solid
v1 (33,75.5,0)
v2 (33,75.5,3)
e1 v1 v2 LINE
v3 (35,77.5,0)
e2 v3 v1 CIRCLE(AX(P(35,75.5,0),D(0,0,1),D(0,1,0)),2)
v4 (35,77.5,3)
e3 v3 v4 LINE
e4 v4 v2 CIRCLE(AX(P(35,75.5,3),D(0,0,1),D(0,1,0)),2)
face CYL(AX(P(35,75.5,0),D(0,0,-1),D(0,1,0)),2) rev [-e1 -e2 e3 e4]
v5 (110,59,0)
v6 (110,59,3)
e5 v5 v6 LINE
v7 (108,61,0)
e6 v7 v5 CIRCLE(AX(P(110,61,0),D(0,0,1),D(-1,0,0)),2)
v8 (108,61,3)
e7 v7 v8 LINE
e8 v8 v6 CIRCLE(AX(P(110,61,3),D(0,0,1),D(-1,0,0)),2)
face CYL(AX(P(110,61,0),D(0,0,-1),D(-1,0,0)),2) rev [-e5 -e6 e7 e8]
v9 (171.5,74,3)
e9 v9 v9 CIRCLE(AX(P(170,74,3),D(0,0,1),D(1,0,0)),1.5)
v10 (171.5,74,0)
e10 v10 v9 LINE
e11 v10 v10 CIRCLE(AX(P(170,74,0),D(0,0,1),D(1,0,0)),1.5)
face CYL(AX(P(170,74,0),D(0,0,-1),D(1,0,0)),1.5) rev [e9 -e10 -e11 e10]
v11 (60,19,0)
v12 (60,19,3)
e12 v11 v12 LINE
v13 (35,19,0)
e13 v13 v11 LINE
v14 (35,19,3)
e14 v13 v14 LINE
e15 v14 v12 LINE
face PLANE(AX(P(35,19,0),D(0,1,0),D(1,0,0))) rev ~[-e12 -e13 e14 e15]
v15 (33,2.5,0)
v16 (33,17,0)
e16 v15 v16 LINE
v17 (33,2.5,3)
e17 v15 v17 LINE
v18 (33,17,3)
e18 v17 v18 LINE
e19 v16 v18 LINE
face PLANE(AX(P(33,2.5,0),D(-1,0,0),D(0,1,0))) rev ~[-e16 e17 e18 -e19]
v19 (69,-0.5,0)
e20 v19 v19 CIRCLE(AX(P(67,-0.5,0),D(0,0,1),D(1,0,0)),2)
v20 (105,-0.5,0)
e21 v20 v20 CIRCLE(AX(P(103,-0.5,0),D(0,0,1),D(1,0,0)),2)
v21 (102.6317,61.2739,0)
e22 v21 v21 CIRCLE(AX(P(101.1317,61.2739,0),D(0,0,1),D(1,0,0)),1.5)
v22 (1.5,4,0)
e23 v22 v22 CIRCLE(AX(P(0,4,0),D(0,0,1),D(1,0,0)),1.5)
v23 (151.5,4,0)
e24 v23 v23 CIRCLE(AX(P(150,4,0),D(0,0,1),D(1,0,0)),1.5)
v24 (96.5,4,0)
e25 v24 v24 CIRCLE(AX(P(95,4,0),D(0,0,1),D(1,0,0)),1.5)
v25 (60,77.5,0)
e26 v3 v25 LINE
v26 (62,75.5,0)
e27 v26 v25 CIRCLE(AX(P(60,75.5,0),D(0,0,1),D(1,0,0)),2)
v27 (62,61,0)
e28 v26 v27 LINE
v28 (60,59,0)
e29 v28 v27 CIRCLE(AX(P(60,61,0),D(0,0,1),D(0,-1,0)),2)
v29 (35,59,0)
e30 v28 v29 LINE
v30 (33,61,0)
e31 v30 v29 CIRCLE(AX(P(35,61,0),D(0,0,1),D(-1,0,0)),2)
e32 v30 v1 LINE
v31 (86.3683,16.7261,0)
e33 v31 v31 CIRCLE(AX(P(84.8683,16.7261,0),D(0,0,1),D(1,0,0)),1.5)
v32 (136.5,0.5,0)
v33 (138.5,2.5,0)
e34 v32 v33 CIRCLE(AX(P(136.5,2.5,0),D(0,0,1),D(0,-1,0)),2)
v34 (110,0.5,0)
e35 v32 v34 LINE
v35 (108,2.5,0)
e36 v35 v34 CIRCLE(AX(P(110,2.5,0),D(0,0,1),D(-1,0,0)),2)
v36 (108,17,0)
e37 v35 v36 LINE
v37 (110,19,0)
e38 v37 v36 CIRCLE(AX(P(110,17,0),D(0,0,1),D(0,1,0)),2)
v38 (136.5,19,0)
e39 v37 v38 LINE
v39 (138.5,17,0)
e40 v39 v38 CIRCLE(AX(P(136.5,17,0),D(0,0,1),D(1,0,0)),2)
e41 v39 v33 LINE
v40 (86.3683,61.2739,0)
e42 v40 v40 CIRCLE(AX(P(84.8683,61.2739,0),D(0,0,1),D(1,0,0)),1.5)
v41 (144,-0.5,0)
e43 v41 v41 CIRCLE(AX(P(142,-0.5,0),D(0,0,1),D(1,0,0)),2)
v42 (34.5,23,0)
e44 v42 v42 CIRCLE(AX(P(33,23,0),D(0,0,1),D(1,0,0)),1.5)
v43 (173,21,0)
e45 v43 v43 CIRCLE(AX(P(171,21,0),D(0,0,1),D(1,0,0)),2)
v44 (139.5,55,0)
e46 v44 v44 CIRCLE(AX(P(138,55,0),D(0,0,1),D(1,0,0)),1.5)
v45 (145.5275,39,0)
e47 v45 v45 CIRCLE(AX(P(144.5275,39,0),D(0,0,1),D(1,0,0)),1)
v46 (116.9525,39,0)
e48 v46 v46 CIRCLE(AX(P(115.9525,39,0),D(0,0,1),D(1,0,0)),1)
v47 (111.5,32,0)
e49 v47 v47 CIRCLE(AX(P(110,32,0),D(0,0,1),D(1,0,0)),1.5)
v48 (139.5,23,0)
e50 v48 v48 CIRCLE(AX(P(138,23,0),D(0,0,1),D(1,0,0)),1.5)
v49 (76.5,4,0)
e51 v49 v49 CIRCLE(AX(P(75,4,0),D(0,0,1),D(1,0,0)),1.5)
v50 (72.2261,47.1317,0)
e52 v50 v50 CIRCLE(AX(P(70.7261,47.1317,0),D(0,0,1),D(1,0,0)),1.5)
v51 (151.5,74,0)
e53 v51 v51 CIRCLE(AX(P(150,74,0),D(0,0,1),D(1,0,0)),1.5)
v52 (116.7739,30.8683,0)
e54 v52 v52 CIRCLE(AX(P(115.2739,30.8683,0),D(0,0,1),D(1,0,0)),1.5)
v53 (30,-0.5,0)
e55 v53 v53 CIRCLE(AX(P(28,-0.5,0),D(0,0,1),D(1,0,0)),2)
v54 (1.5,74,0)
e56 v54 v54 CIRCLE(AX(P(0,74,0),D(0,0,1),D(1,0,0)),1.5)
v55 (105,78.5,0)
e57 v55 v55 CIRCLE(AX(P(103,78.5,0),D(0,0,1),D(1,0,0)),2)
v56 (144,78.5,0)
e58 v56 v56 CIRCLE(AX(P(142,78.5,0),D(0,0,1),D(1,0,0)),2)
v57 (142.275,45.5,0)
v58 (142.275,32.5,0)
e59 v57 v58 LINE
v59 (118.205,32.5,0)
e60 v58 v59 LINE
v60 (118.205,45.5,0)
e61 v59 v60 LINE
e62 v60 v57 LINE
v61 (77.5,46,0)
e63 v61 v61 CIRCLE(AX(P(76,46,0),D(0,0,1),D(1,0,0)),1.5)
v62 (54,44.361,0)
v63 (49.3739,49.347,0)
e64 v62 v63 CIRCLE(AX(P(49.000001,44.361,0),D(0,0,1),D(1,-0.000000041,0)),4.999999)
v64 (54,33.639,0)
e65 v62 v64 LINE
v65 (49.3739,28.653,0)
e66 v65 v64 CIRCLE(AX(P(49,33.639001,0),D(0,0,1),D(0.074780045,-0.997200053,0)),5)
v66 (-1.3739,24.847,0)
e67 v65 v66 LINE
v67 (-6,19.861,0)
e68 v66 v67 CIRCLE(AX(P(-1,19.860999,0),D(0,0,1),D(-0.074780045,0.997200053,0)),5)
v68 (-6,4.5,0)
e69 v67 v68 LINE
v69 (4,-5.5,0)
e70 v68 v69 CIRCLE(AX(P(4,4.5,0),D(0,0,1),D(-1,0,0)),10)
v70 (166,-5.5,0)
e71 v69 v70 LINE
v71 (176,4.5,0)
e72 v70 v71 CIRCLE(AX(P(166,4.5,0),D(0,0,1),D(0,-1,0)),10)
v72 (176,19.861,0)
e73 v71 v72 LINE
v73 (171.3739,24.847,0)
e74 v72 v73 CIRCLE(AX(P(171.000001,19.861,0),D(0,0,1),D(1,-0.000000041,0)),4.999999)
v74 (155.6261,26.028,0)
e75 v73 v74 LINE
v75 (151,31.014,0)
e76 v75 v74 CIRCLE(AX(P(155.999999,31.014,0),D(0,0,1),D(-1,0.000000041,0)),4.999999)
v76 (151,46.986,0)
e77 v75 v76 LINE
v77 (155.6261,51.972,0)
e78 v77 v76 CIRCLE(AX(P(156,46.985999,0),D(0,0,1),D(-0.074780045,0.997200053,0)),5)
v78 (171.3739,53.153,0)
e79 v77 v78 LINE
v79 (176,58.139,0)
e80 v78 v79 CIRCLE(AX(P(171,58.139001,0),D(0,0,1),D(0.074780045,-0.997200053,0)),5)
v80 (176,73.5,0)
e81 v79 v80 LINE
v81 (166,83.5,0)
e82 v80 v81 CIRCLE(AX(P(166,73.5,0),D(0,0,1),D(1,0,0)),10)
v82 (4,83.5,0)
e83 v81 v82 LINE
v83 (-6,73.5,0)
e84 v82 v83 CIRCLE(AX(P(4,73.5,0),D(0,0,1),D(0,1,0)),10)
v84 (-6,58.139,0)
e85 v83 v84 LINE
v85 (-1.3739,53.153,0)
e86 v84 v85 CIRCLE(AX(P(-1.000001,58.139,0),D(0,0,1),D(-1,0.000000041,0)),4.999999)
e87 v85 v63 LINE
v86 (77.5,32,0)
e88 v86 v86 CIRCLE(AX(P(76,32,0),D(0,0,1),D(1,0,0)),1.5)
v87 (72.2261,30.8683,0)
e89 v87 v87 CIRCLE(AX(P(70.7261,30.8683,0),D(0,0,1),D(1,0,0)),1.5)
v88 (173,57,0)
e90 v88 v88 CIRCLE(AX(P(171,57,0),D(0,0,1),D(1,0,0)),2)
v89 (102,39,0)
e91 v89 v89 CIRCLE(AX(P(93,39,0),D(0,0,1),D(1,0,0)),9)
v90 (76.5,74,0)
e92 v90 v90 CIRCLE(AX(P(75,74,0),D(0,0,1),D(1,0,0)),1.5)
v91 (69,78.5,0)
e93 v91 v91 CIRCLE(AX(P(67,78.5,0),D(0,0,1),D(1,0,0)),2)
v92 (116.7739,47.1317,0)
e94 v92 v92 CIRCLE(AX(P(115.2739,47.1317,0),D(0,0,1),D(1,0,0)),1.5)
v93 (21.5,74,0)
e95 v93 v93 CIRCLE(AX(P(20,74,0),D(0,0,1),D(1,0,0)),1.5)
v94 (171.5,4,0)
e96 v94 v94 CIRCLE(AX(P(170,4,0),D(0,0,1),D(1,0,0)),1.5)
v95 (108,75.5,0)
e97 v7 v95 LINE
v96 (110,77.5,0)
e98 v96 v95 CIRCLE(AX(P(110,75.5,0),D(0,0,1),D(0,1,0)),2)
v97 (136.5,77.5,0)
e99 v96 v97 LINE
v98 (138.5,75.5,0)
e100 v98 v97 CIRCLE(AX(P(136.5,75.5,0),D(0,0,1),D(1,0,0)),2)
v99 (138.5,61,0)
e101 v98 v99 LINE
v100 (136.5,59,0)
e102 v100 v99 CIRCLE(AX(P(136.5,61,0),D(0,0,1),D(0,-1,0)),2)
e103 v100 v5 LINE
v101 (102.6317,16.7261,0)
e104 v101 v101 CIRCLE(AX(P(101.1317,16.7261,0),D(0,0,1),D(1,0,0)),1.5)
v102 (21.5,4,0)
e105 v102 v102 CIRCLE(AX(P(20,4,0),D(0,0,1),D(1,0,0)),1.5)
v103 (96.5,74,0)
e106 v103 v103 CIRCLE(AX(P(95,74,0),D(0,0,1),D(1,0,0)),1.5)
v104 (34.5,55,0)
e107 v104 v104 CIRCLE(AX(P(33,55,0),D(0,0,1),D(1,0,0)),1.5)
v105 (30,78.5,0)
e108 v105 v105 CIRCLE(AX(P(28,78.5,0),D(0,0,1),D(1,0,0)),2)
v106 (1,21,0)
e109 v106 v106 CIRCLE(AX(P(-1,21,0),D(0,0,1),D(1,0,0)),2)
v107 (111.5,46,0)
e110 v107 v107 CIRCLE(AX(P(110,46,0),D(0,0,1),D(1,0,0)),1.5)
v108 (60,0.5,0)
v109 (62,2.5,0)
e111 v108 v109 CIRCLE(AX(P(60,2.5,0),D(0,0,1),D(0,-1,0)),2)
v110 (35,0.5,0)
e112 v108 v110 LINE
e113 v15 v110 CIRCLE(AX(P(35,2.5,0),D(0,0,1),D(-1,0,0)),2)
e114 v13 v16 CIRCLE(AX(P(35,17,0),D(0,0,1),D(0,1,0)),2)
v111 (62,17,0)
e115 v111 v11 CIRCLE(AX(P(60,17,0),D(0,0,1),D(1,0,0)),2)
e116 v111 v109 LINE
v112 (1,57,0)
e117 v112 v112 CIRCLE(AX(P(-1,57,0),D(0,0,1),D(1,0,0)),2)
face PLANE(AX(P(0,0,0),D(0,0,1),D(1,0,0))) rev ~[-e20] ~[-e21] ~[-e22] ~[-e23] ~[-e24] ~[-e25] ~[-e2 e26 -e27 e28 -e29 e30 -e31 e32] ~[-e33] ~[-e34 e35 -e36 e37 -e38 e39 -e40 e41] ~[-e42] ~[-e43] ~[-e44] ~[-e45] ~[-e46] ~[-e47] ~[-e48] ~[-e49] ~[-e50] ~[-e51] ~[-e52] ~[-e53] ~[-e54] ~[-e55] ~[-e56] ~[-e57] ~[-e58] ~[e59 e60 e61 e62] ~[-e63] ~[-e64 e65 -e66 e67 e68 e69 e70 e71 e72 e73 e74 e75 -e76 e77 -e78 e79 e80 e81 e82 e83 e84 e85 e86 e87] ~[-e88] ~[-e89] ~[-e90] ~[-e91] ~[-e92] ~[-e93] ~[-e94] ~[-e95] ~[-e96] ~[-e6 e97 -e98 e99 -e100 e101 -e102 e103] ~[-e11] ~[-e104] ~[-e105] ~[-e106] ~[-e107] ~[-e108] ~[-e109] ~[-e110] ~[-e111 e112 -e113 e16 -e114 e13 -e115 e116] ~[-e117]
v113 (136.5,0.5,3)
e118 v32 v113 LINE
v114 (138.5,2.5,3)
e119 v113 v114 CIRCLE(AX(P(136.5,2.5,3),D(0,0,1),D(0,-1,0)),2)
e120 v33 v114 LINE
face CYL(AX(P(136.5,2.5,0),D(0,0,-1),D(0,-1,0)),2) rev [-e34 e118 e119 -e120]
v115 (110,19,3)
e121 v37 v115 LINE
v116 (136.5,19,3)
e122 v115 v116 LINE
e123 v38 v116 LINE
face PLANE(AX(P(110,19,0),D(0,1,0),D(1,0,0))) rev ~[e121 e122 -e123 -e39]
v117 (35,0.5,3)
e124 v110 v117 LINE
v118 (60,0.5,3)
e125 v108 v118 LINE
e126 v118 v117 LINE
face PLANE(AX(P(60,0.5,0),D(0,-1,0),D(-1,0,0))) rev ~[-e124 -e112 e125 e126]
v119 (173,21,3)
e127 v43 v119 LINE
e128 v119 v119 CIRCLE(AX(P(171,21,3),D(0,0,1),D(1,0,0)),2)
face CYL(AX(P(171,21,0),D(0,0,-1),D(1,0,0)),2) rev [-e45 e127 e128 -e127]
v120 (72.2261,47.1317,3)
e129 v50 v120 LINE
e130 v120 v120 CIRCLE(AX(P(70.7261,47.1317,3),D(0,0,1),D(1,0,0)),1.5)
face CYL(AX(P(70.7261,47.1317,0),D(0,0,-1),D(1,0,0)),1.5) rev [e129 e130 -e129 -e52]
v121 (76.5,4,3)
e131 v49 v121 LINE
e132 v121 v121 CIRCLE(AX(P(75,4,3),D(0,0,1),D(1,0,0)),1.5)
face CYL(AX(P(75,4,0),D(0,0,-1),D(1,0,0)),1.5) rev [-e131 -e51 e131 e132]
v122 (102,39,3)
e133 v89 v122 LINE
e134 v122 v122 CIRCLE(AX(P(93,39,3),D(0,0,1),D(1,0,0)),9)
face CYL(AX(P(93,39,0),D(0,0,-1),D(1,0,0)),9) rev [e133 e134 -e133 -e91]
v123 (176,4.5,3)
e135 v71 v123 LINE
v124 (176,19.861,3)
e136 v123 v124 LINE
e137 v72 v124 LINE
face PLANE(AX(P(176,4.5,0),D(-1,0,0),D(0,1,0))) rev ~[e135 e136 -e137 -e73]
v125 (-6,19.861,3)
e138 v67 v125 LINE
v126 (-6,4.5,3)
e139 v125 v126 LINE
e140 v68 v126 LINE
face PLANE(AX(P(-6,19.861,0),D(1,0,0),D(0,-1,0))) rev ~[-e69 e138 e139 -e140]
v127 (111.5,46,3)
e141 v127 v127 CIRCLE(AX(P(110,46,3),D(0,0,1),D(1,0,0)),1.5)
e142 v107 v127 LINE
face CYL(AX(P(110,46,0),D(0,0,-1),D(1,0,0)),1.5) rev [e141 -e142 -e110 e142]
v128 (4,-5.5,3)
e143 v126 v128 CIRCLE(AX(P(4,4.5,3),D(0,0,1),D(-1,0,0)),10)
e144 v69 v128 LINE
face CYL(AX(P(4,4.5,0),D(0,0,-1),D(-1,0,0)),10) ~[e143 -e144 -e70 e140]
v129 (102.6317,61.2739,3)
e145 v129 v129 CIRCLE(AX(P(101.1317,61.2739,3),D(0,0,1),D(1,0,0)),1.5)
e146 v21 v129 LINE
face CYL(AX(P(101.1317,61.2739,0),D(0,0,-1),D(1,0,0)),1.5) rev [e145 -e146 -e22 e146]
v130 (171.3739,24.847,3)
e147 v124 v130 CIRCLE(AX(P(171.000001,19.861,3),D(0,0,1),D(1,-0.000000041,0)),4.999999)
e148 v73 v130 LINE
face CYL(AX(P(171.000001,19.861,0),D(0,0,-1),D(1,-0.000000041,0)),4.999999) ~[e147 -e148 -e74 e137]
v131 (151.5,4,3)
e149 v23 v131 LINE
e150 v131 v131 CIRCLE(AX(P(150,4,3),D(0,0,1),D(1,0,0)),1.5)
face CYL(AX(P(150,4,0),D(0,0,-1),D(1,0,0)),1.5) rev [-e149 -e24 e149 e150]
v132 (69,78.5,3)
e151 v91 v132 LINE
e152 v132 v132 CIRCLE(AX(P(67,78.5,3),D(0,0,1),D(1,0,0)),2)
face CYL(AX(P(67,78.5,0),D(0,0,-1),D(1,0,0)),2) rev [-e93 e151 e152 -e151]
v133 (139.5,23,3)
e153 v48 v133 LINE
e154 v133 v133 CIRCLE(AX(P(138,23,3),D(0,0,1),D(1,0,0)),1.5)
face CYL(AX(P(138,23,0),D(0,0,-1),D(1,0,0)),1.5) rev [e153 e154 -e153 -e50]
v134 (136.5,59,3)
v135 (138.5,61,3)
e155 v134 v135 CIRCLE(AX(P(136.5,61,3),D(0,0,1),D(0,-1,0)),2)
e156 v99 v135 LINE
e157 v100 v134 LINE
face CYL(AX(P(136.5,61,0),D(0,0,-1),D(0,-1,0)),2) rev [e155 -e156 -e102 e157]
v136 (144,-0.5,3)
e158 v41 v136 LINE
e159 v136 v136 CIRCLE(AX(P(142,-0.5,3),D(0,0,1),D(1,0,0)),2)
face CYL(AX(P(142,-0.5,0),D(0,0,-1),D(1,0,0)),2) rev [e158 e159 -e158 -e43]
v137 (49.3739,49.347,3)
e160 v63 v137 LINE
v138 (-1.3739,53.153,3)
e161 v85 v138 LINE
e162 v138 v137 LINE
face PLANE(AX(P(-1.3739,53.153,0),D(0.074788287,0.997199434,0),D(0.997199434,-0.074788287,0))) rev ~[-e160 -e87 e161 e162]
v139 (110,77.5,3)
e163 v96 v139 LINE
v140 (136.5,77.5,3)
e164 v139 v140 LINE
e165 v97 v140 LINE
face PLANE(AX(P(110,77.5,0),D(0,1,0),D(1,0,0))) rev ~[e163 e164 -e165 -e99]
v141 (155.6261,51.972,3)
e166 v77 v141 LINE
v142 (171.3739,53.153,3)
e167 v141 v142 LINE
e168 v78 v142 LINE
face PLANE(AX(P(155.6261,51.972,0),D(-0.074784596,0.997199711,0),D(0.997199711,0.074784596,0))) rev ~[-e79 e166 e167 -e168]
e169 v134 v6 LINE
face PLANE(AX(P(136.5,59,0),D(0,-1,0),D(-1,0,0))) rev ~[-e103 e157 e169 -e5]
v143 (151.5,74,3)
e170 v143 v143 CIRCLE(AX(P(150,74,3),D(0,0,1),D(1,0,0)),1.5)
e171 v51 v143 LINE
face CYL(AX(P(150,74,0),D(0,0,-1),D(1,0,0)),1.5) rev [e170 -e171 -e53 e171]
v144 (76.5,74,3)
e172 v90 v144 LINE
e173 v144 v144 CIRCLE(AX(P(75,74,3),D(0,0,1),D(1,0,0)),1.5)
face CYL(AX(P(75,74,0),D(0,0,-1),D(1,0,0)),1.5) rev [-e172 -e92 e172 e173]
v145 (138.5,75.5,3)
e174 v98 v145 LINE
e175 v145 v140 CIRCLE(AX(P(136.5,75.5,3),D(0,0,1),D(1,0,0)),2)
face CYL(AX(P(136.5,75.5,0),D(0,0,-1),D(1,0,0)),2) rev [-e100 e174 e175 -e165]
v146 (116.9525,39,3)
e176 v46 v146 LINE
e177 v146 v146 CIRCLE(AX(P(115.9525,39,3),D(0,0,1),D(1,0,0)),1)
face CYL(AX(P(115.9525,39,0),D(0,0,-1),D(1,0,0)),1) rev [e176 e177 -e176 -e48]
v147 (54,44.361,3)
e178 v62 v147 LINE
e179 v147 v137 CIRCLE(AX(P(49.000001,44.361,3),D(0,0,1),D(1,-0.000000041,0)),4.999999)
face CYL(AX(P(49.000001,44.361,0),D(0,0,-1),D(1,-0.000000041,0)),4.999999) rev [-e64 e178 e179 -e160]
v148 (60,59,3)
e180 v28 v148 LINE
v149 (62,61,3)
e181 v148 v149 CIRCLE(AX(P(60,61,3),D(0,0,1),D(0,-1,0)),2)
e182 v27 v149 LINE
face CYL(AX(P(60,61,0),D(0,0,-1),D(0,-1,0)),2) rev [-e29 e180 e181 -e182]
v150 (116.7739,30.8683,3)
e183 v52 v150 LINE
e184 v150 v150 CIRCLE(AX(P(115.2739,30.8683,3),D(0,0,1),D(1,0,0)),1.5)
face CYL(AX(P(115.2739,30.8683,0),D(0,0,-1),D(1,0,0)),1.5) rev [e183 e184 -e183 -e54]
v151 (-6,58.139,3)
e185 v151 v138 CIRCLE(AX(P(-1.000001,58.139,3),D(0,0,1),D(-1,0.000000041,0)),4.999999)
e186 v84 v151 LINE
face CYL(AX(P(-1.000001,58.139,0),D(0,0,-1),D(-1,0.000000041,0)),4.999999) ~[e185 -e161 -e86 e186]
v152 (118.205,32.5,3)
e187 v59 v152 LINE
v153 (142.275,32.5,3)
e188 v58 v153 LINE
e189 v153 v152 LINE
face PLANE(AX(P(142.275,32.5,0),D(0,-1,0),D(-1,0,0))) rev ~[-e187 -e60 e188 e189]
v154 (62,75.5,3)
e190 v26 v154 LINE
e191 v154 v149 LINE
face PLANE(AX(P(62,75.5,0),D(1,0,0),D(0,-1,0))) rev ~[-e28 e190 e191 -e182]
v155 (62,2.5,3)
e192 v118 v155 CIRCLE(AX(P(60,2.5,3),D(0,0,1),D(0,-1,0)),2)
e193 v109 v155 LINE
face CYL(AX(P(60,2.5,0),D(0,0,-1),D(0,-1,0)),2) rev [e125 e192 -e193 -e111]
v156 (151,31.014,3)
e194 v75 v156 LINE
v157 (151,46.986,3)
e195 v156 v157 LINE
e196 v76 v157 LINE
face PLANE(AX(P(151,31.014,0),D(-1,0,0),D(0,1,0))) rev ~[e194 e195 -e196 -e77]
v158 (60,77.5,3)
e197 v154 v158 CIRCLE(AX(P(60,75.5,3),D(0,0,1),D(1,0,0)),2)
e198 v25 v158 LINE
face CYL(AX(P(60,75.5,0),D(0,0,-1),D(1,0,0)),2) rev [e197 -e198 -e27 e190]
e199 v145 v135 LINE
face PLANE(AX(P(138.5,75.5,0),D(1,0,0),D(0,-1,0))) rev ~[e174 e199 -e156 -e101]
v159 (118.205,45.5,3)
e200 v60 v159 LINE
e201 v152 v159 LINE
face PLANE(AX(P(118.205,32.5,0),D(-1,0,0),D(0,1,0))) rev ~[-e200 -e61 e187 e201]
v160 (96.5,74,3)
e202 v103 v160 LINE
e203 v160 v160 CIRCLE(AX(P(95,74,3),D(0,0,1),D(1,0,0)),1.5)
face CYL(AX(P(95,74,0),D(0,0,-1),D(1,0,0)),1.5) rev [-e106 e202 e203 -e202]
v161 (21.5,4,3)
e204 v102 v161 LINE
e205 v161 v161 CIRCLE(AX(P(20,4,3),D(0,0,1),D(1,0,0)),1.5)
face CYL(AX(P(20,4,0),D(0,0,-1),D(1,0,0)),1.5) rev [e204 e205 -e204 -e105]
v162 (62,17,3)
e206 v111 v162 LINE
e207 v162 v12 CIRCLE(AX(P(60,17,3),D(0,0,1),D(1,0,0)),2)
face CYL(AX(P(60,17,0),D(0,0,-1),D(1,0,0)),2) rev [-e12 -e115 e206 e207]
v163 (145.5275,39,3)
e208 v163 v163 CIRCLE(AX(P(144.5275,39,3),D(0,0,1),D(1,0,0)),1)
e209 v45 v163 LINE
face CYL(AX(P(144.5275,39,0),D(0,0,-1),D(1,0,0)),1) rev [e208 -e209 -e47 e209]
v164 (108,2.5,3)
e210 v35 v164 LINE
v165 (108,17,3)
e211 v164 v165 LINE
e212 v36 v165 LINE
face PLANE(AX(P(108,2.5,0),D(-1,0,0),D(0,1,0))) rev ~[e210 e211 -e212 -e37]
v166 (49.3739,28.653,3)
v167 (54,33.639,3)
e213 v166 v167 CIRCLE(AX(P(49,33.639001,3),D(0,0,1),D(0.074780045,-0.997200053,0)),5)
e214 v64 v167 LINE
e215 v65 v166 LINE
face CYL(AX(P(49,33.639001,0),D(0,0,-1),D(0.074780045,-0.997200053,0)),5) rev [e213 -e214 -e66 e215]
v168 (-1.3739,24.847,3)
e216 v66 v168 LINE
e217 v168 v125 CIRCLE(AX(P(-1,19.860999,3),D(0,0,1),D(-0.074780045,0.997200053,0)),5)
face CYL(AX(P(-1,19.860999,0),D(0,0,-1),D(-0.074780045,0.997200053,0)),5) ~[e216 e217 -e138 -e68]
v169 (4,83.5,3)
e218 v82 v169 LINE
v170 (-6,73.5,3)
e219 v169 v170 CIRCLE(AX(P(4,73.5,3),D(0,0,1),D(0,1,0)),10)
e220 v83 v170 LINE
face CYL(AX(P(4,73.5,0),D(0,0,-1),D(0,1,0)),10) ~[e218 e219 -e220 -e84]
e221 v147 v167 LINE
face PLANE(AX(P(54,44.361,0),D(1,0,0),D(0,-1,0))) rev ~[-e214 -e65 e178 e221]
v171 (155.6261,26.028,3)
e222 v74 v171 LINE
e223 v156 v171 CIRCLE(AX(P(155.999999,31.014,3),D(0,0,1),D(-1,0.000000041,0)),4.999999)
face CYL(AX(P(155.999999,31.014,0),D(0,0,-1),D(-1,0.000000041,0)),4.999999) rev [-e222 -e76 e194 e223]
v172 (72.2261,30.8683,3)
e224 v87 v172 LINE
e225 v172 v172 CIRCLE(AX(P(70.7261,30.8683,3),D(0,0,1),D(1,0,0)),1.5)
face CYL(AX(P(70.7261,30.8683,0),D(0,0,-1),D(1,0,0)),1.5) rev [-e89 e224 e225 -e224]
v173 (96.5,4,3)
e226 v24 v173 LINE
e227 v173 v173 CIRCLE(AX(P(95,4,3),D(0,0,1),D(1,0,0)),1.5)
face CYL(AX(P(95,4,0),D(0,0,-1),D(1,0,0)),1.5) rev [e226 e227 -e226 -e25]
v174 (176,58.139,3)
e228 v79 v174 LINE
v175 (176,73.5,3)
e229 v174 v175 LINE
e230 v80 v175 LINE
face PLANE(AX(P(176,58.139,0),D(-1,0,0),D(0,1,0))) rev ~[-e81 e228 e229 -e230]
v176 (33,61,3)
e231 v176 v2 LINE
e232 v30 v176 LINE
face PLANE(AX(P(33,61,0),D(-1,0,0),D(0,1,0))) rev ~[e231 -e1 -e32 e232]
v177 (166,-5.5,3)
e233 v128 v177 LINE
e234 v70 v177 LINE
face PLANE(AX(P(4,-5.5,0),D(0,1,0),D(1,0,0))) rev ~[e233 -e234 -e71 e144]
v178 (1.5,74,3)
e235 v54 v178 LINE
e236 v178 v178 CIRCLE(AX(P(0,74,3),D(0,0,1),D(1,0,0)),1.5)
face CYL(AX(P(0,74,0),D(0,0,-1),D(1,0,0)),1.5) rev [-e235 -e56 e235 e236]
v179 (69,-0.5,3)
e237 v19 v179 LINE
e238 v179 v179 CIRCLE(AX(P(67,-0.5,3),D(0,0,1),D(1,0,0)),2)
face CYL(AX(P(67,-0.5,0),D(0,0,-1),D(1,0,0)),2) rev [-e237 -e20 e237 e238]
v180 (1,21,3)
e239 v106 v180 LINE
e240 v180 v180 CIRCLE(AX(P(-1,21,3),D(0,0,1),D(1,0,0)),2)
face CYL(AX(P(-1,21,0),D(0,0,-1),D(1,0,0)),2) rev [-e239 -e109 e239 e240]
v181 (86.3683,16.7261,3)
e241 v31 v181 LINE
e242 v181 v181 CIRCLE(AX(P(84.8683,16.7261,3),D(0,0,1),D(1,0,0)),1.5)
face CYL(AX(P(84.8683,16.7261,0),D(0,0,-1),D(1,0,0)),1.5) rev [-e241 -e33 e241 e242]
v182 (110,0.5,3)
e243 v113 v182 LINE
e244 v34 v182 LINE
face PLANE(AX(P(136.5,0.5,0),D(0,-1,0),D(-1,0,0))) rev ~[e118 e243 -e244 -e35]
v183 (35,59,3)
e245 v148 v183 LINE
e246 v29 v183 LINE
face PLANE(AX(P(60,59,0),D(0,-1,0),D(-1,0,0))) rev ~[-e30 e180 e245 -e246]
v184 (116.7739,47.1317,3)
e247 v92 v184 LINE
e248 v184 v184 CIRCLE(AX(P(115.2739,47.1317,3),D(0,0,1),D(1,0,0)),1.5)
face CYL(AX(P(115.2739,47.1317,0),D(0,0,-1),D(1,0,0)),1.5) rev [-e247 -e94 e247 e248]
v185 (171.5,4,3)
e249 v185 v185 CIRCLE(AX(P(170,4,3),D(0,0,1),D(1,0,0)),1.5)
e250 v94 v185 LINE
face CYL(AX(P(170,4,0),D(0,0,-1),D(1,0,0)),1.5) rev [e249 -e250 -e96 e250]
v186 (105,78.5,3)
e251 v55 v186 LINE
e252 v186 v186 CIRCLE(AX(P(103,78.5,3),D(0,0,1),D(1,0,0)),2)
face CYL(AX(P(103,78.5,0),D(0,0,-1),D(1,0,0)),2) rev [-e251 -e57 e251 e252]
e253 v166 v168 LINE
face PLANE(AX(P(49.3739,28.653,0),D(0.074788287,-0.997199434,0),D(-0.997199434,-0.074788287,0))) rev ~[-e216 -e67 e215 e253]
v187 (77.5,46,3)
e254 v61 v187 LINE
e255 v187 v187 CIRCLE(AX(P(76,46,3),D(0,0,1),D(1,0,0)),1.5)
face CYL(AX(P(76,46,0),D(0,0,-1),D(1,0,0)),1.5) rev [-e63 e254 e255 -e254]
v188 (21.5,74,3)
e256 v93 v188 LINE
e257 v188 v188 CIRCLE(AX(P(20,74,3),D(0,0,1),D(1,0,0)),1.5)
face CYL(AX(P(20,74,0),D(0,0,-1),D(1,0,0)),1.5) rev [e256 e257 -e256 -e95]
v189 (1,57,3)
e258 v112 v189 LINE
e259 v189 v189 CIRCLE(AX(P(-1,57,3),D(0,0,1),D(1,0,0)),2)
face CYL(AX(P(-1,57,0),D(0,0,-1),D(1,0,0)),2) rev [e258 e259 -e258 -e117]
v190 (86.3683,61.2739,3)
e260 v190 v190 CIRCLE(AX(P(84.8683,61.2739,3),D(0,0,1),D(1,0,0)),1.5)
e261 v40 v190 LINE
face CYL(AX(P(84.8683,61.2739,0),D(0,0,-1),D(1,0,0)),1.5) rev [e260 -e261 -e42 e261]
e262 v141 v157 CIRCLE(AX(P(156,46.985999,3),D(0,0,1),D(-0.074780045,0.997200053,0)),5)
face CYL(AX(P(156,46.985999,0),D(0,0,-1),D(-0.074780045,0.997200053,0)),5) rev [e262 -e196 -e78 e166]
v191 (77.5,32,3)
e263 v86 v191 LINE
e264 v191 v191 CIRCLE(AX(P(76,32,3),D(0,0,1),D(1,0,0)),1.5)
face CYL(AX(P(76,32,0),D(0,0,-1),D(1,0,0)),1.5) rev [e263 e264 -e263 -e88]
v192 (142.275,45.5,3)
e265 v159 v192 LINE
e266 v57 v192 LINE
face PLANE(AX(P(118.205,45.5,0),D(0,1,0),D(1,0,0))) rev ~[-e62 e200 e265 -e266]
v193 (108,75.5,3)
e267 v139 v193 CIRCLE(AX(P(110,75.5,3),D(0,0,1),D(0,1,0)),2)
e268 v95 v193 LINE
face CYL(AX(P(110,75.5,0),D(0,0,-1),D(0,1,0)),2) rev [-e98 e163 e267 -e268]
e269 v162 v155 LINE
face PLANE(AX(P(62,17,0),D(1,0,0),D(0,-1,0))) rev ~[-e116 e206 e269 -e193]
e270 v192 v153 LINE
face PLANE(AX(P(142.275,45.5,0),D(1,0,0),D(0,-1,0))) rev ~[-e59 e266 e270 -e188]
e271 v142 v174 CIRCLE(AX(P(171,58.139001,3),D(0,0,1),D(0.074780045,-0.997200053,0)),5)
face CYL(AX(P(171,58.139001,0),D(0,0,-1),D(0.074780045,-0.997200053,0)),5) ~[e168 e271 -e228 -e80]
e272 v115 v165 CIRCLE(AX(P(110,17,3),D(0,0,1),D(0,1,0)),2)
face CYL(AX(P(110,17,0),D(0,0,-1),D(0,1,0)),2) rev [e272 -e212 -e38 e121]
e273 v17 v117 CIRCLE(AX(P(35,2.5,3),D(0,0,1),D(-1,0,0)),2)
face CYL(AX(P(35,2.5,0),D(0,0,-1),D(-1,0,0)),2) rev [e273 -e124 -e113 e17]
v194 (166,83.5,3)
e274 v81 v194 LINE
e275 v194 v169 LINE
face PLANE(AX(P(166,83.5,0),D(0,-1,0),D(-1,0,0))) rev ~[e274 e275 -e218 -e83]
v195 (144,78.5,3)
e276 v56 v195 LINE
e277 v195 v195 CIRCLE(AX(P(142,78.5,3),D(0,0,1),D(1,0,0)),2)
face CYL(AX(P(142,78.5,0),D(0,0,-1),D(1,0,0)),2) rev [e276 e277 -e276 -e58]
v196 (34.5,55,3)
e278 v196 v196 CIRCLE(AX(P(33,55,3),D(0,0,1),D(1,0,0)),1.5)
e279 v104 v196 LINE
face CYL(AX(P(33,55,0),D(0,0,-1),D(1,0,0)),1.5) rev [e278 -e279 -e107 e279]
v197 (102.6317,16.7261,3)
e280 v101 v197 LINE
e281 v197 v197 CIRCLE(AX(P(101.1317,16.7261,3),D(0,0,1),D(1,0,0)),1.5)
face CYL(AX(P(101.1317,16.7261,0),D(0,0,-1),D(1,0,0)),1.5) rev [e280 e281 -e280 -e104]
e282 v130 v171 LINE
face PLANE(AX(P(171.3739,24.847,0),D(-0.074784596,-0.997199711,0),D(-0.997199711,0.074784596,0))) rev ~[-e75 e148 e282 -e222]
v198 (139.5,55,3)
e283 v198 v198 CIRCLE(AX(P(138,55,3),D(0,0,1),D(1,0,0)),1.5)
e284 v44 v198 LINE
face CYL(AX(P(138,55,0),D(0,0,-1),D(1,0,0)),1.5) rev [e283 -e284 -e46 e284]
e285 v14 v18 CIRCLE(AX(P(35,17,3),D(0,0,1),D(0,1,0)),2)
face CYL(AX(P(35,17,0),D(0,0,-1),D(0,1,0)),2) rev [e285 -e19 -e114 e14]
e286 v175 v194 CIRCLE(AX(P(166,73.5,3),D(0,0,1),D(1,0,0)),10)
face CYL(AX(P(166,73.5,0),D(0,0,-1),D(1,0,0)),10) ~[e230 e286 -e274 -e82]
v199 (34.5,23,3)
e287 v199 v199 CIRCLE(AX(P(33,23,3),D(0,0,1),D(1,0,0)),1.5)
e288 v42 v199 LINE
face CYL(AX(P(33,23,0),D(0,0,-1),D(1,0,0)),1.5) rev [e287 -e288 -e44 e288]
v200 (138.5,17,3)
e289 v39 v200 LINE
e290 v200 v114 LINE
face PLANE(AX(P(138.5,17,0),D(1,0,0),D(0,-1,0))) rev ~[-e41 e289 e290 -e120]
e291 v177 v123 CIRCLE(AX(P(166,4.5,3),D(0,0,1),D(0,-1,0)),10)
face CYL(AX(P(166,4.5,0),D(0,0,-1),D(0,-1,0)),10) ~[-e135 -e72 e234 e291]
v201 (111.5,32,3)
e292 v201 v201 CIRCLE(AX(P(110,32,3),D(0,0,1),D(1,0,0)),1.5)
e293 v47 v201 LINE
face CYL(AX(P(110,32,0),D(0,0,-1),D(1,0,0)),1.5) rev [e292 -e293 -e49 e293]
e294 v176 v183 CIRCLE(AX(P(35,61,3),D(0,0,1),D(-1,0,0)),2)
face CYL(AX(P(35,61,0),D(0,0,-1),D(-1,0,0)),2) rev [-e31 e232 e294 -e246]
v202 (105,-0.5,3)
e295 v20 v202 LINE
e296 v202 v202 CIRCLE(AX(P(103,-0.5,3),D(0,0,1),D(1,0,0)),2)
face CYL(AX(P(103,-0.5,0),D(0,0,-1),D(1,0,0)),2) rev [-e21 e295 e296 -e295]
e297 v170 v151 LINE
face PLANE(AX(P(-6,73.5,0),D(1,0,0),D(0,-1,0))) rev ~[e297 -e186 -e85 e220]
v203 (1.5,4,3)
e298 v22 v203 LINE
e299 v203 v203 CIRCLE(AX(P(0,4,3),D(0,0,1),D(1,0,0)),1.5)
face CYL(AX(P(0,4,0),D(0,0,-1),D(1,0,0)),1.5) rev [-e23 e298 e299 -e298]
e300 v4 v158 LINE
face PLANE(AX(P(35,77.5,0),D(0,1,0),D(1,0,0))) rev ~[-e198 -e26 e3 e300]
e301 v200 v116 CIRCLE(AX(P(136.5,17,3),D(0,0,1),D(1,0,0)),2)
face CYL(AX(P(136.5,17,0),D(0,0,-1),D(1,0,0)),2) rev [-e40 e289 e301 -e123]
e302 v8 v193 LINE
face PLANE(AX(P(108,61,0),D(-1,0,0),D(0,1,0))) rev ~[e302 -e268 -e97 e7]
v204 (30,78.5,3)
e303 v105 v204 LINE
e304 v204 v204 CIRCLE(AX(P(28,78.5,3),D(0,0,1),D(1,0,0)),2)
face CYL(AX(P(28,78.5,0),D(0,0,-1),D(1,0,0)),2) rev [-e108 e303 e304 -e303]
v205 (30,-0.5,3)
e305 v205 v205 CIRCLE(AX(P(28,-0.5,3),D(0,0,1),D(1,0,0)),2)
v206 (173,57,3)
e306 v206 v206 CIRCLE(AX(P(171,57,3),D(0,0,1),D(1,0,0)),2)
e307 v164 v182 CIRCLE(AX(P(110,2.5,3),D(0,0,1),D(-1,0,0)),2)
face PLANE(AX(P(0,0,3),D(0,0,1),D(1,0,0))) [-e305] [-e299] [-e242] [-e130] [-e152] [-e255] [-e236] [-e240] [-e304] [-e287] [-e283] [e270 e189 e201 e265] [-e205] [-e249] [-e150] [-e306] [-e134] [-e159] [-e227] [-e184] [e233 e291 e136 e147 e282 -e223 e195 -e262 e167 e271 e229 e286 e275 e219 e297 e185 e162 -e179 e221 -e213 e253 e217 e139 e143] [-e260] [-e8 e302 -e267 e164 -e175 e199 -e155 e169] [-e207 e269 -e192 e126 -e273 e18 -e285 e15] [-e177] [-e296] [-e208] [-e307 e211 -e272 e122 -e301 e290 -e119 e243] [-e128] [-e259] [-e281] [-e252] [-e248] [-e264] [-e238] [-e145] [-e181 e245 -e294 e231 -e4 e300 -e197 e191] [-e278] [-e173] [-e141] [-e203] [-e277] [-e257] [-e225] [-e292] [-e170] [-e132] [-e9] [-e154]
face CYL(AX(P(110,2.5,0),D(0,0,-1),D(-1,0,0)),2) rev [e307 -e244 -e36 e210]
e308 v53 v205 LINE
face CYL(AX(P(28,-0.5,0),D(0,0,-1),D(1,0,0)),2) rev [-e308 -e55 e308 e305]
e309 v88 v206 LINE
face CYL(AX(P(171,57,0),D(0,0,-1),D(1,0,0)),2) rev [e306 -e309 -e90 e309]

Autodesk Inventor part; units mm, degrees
ref_plane "YZ Plane" through (0, 0, 0) normal (1, 0, 0) x (0, 1, 0)
ref_plane "XZ Plane" through (0, 0, 0) normal (0, 1, 0) x (-1, 0, 0)
ref_plane "XY Plane" through (0, 0, 0) normal (0, 0, 1) x (1, 0, 0)
sketch "Sketch1" plane through (0, 0, 0) normal (0, 0, 1) x (1, 0, 0)
  line L0 (138.5, 75.5) -> (138.5, 61)
  arc A0 (136.5, 59) -> (138.5, 61) centre (136.5, 61) ccw
  line L1 (136.5, 59) -> (110, 59)
  arc A1 (108, 61) -> (110, 59) centre (110, 61) ccw
  line L2 (108, 61) -> (108, 75.5)
  arc A2 (110, 77.5) -> (108, 75.5) centre (110, 75.5) ccw
  line L3 (110, 77.5) -> (136.5, 77.5)
  arc A3 (138.5, 75.5) -> (136.5, 77.5) centre (136.5, 75.5) ccw
  line L4 (62, 75.5) -> (62, 61)
  arc A4 (60, 59) -> (62, 61) centre (60, 61) ccw
  line L5 (60, 59) -> (35, 59)
  arc A5 (33, 61) -> (35, 59) centre (35, 61) ccw
  line L6 (33, 61) -> (33, 75.5)
  arc A6 (35, 77.5) -> (33, 75.5) centre (35, 75.5) ccw
  line L7 (35, 77.5) -> (60, 77.5)
  arc A7 (62, 75.5) -> (60, 77.5) centre (60, 75.5) ccw
  line L8 (62, 17) -> (62, 2.5)
  arc A8 (60, 0.5) -> (62, 2.5) centre (60, 2.5) ccw
  line L9 (60, 0.5) -> (35, 0.5)
  arc A9 (33, 2.5) -> (35, 0.5) centre (35, 2.5) ccw
  line L10 (33, 2.5) -> (33, 17)
  arc A10 (35, 19) -> (33, 17) centre (35, 17) ccw
  line L11 (35, 19) -> (60, 19)
  arc A11 (62, 17) -> (60, 19) centre (60, 17) ccw
  line L12 (138.5, 17) -> (138.5, 2.5)
  arc A12 (136.5, 0.5) -> (138.5, 2.5) centre (136.5, 2.5) ccw
  line L13 (136.5, 0.5) -> (110, 0.5)
  arc A13 (108, 2.5) -> (110, 0.5) centre (110, 2.5) ccw
  line L14 (108, 2.5) -> (108, 17)
  arc A14 (110, 19) -> (108, 17) centre (110, 17) ccw
  line L15 (110, 19) -> (136.5, 19)
  arc A15 (138.5, 17) -> (136.5, 19) centre (136.5, 17) ccw
  arc A16 (176, 19.861) -> (171.3739, 24.847) centre (171, 19.861) ccw
  line L16 (171.3739, 24.847) -> (155.6261, 26.028)
  arc A17 (151, 31.014) -> (155.6261, 26.028) centre (156, 31.014) ccw
  line L17 (151, 31.014) -> (151, 46.986)
  arc A18 (155.6261, 51.972) -> (151, 46.986) centre (156, 46.986) ccw
  line L18 (155.6261, 51.972) -> (171.3739, 53.153)
  arc A19 (171.3739, 53.153) -> (176, 58.139) centre (171, 58.139) ccw
  line L19 (176, 58.139) -> (176, 73.5)
  arc A20 (176, 73.5) -> (166, 83.5) centre (166, 73.5) ccw
  line L20 (166, 83.5) -> (4, 83.5)
  arc A21 (4, 83.5) -> (-6, 73.5) centre (4, 73.5) ccw
  line L21 (-6, 73.5) -> (-6, 58.139)
  arc A22 (-6, 58.139) -> (-1.3739, 53.153) centre (-1, 58.139) ccw
  line L22 (-1.3739, 53.153) -> (49.3739, 49.347)
  arc A23 (54, 44.361) -> (49.3739, 49.347) centre (49, 44.361) ccw
  line L23 (54, 44.361) -> (54, 33.639)
  arc A24 (49.3739, 28.653) -> (54, 33.639) centre (49, 33.639) ccw
  line L24 (49.3739, 28.653) -> (-1.3739, 24.847)
  arc A25 (-1.3739, 24.847) -> (-6, 19.861) centre (-1, 19.861) ccw
  line L25 (-6, 19.861) -> (-6, 4.5)
  arc A26 (-6, 4.5) -> (4, -5.5) centre (4, 4.5) ccw
  line L26 (4, -5.5) -> (166, -5.5)
  arc A27 (166, -5.5) -> (176, 4.5) centre (166, 4.5) ccw
  line L27 (176, 4.5) -> (176, 19.861)
  line L28 (118.205, 45.5) -> (142.275, 45.5)
  line L29 (142.275, 45.5) -> (142.275, 32.5)
  line L30 (142.275, 32.5) -> (118.205, 32.5)
  line L31 (118.205, 32.5) -> (118.205, 45.5)
  circle A28 centre (150, 4) radius 1.5
  circle A29 centre (170, 74) radius 1.5
  circle A30 centre (75, 74) radius 1.5
  circle A31 centre (20, 74) radius 1.5
  circle A32 centre (0, 4) radius 1.5
  circle A33 centre (95, 4) radius 1.5
  circle A34 centre (0, 74) radius 1.5
  circle A35 centre (20, 4) radius 1.5
  circle A36 centre (75, 4) radius 1.5
  circle A37 centre (95, 74) radius 1.5
  circle A38 centre (150, 74) radius 1.5
  circle A39 centre (170, 4) radius 1.5
  circle A40 centre (93, 39) radius 9
  circle A41 centre (76, 32) radius 1.5
  circle A42 centre (76, 46) radius 1.5
  circle A43 centre (110, 32) radius 1.5
  circle A44 centre (110, 46) radius 1.5
  circle A45 centre (103, -0.5) radius 2
  circle A46 centre (67, 78.5) radius 2
  circle A47 centre (142, 78.5) radius 2
  circle A48 centre (67, -0.5) radius 2
  circle A49 centre (28, -0.5) radius 2
  circle A50 centre (142, -0.5) radius 2
  circle A51 centre (103, 78.5) radius 2
  circle A52 centre (28, 78.5) radius 2
  circle A53 centre (84.8683, 16.7261) radius 1.5
  circle A54 centre (115.2739, 30.8683) radius 1.5
  circle A55 centre (101.1317, 61.2739) radius 1.5
  circle A56 centre (70.7261, 47.1317) radius 1.5
  circle A57 centre (70.7261, 30.8683) radius 1.5
  circle A58 centre (84.8683, 61.2739) radius 1.5
  circle A59 centre (115.2739, 47.1317) radius 1.5
  circle A60 centre (101.1317, 16.7261) radius 1.5
  circle A61 centre (33, 55) radius 1.5
  circle A62 centre (138, 23) radius 1.5
  circle A63 centre (33, 23) radius 1.5
  circle A64 centre (138, 55) radius 1.5
  circle A65 centre (-1, 21) radius 2
  circle A66 centre (171, 57) radius 2
  circle A67 centre (171, 21) radius 2
  circle A68 centre (-1, 57) radius 2
  line L32 (93, 39) -> (118.205, 39) construction
  circle A69 centre (115.9525, 39) radius 1
  circle A70 centre (144.5275, 39) radius 1
  line L33 (144.5275, 39) -> (142.275, 39) construction
  line L34 (115.9525, 39) -> (118.205, 39) construction
  point P0 (0, 0)
  dimension "d2" = 4
  dimension "d3" = 8.578
  dimension "d4" = 25
  dimension "d5" = 6
  dimension "d6" = 6
  dimension "d7" = 6
  dimension "d8" = 6
  dimension "d9" = 24.07
  dimension "d10" = 13
  dimension "d11" = 2
  dimension "d12" = 33.725
  dimension "d13" = 28.575
extrude "Extrusion1" add sketch "Sketch1" along normal blind 3
properties part number "top_plate"
